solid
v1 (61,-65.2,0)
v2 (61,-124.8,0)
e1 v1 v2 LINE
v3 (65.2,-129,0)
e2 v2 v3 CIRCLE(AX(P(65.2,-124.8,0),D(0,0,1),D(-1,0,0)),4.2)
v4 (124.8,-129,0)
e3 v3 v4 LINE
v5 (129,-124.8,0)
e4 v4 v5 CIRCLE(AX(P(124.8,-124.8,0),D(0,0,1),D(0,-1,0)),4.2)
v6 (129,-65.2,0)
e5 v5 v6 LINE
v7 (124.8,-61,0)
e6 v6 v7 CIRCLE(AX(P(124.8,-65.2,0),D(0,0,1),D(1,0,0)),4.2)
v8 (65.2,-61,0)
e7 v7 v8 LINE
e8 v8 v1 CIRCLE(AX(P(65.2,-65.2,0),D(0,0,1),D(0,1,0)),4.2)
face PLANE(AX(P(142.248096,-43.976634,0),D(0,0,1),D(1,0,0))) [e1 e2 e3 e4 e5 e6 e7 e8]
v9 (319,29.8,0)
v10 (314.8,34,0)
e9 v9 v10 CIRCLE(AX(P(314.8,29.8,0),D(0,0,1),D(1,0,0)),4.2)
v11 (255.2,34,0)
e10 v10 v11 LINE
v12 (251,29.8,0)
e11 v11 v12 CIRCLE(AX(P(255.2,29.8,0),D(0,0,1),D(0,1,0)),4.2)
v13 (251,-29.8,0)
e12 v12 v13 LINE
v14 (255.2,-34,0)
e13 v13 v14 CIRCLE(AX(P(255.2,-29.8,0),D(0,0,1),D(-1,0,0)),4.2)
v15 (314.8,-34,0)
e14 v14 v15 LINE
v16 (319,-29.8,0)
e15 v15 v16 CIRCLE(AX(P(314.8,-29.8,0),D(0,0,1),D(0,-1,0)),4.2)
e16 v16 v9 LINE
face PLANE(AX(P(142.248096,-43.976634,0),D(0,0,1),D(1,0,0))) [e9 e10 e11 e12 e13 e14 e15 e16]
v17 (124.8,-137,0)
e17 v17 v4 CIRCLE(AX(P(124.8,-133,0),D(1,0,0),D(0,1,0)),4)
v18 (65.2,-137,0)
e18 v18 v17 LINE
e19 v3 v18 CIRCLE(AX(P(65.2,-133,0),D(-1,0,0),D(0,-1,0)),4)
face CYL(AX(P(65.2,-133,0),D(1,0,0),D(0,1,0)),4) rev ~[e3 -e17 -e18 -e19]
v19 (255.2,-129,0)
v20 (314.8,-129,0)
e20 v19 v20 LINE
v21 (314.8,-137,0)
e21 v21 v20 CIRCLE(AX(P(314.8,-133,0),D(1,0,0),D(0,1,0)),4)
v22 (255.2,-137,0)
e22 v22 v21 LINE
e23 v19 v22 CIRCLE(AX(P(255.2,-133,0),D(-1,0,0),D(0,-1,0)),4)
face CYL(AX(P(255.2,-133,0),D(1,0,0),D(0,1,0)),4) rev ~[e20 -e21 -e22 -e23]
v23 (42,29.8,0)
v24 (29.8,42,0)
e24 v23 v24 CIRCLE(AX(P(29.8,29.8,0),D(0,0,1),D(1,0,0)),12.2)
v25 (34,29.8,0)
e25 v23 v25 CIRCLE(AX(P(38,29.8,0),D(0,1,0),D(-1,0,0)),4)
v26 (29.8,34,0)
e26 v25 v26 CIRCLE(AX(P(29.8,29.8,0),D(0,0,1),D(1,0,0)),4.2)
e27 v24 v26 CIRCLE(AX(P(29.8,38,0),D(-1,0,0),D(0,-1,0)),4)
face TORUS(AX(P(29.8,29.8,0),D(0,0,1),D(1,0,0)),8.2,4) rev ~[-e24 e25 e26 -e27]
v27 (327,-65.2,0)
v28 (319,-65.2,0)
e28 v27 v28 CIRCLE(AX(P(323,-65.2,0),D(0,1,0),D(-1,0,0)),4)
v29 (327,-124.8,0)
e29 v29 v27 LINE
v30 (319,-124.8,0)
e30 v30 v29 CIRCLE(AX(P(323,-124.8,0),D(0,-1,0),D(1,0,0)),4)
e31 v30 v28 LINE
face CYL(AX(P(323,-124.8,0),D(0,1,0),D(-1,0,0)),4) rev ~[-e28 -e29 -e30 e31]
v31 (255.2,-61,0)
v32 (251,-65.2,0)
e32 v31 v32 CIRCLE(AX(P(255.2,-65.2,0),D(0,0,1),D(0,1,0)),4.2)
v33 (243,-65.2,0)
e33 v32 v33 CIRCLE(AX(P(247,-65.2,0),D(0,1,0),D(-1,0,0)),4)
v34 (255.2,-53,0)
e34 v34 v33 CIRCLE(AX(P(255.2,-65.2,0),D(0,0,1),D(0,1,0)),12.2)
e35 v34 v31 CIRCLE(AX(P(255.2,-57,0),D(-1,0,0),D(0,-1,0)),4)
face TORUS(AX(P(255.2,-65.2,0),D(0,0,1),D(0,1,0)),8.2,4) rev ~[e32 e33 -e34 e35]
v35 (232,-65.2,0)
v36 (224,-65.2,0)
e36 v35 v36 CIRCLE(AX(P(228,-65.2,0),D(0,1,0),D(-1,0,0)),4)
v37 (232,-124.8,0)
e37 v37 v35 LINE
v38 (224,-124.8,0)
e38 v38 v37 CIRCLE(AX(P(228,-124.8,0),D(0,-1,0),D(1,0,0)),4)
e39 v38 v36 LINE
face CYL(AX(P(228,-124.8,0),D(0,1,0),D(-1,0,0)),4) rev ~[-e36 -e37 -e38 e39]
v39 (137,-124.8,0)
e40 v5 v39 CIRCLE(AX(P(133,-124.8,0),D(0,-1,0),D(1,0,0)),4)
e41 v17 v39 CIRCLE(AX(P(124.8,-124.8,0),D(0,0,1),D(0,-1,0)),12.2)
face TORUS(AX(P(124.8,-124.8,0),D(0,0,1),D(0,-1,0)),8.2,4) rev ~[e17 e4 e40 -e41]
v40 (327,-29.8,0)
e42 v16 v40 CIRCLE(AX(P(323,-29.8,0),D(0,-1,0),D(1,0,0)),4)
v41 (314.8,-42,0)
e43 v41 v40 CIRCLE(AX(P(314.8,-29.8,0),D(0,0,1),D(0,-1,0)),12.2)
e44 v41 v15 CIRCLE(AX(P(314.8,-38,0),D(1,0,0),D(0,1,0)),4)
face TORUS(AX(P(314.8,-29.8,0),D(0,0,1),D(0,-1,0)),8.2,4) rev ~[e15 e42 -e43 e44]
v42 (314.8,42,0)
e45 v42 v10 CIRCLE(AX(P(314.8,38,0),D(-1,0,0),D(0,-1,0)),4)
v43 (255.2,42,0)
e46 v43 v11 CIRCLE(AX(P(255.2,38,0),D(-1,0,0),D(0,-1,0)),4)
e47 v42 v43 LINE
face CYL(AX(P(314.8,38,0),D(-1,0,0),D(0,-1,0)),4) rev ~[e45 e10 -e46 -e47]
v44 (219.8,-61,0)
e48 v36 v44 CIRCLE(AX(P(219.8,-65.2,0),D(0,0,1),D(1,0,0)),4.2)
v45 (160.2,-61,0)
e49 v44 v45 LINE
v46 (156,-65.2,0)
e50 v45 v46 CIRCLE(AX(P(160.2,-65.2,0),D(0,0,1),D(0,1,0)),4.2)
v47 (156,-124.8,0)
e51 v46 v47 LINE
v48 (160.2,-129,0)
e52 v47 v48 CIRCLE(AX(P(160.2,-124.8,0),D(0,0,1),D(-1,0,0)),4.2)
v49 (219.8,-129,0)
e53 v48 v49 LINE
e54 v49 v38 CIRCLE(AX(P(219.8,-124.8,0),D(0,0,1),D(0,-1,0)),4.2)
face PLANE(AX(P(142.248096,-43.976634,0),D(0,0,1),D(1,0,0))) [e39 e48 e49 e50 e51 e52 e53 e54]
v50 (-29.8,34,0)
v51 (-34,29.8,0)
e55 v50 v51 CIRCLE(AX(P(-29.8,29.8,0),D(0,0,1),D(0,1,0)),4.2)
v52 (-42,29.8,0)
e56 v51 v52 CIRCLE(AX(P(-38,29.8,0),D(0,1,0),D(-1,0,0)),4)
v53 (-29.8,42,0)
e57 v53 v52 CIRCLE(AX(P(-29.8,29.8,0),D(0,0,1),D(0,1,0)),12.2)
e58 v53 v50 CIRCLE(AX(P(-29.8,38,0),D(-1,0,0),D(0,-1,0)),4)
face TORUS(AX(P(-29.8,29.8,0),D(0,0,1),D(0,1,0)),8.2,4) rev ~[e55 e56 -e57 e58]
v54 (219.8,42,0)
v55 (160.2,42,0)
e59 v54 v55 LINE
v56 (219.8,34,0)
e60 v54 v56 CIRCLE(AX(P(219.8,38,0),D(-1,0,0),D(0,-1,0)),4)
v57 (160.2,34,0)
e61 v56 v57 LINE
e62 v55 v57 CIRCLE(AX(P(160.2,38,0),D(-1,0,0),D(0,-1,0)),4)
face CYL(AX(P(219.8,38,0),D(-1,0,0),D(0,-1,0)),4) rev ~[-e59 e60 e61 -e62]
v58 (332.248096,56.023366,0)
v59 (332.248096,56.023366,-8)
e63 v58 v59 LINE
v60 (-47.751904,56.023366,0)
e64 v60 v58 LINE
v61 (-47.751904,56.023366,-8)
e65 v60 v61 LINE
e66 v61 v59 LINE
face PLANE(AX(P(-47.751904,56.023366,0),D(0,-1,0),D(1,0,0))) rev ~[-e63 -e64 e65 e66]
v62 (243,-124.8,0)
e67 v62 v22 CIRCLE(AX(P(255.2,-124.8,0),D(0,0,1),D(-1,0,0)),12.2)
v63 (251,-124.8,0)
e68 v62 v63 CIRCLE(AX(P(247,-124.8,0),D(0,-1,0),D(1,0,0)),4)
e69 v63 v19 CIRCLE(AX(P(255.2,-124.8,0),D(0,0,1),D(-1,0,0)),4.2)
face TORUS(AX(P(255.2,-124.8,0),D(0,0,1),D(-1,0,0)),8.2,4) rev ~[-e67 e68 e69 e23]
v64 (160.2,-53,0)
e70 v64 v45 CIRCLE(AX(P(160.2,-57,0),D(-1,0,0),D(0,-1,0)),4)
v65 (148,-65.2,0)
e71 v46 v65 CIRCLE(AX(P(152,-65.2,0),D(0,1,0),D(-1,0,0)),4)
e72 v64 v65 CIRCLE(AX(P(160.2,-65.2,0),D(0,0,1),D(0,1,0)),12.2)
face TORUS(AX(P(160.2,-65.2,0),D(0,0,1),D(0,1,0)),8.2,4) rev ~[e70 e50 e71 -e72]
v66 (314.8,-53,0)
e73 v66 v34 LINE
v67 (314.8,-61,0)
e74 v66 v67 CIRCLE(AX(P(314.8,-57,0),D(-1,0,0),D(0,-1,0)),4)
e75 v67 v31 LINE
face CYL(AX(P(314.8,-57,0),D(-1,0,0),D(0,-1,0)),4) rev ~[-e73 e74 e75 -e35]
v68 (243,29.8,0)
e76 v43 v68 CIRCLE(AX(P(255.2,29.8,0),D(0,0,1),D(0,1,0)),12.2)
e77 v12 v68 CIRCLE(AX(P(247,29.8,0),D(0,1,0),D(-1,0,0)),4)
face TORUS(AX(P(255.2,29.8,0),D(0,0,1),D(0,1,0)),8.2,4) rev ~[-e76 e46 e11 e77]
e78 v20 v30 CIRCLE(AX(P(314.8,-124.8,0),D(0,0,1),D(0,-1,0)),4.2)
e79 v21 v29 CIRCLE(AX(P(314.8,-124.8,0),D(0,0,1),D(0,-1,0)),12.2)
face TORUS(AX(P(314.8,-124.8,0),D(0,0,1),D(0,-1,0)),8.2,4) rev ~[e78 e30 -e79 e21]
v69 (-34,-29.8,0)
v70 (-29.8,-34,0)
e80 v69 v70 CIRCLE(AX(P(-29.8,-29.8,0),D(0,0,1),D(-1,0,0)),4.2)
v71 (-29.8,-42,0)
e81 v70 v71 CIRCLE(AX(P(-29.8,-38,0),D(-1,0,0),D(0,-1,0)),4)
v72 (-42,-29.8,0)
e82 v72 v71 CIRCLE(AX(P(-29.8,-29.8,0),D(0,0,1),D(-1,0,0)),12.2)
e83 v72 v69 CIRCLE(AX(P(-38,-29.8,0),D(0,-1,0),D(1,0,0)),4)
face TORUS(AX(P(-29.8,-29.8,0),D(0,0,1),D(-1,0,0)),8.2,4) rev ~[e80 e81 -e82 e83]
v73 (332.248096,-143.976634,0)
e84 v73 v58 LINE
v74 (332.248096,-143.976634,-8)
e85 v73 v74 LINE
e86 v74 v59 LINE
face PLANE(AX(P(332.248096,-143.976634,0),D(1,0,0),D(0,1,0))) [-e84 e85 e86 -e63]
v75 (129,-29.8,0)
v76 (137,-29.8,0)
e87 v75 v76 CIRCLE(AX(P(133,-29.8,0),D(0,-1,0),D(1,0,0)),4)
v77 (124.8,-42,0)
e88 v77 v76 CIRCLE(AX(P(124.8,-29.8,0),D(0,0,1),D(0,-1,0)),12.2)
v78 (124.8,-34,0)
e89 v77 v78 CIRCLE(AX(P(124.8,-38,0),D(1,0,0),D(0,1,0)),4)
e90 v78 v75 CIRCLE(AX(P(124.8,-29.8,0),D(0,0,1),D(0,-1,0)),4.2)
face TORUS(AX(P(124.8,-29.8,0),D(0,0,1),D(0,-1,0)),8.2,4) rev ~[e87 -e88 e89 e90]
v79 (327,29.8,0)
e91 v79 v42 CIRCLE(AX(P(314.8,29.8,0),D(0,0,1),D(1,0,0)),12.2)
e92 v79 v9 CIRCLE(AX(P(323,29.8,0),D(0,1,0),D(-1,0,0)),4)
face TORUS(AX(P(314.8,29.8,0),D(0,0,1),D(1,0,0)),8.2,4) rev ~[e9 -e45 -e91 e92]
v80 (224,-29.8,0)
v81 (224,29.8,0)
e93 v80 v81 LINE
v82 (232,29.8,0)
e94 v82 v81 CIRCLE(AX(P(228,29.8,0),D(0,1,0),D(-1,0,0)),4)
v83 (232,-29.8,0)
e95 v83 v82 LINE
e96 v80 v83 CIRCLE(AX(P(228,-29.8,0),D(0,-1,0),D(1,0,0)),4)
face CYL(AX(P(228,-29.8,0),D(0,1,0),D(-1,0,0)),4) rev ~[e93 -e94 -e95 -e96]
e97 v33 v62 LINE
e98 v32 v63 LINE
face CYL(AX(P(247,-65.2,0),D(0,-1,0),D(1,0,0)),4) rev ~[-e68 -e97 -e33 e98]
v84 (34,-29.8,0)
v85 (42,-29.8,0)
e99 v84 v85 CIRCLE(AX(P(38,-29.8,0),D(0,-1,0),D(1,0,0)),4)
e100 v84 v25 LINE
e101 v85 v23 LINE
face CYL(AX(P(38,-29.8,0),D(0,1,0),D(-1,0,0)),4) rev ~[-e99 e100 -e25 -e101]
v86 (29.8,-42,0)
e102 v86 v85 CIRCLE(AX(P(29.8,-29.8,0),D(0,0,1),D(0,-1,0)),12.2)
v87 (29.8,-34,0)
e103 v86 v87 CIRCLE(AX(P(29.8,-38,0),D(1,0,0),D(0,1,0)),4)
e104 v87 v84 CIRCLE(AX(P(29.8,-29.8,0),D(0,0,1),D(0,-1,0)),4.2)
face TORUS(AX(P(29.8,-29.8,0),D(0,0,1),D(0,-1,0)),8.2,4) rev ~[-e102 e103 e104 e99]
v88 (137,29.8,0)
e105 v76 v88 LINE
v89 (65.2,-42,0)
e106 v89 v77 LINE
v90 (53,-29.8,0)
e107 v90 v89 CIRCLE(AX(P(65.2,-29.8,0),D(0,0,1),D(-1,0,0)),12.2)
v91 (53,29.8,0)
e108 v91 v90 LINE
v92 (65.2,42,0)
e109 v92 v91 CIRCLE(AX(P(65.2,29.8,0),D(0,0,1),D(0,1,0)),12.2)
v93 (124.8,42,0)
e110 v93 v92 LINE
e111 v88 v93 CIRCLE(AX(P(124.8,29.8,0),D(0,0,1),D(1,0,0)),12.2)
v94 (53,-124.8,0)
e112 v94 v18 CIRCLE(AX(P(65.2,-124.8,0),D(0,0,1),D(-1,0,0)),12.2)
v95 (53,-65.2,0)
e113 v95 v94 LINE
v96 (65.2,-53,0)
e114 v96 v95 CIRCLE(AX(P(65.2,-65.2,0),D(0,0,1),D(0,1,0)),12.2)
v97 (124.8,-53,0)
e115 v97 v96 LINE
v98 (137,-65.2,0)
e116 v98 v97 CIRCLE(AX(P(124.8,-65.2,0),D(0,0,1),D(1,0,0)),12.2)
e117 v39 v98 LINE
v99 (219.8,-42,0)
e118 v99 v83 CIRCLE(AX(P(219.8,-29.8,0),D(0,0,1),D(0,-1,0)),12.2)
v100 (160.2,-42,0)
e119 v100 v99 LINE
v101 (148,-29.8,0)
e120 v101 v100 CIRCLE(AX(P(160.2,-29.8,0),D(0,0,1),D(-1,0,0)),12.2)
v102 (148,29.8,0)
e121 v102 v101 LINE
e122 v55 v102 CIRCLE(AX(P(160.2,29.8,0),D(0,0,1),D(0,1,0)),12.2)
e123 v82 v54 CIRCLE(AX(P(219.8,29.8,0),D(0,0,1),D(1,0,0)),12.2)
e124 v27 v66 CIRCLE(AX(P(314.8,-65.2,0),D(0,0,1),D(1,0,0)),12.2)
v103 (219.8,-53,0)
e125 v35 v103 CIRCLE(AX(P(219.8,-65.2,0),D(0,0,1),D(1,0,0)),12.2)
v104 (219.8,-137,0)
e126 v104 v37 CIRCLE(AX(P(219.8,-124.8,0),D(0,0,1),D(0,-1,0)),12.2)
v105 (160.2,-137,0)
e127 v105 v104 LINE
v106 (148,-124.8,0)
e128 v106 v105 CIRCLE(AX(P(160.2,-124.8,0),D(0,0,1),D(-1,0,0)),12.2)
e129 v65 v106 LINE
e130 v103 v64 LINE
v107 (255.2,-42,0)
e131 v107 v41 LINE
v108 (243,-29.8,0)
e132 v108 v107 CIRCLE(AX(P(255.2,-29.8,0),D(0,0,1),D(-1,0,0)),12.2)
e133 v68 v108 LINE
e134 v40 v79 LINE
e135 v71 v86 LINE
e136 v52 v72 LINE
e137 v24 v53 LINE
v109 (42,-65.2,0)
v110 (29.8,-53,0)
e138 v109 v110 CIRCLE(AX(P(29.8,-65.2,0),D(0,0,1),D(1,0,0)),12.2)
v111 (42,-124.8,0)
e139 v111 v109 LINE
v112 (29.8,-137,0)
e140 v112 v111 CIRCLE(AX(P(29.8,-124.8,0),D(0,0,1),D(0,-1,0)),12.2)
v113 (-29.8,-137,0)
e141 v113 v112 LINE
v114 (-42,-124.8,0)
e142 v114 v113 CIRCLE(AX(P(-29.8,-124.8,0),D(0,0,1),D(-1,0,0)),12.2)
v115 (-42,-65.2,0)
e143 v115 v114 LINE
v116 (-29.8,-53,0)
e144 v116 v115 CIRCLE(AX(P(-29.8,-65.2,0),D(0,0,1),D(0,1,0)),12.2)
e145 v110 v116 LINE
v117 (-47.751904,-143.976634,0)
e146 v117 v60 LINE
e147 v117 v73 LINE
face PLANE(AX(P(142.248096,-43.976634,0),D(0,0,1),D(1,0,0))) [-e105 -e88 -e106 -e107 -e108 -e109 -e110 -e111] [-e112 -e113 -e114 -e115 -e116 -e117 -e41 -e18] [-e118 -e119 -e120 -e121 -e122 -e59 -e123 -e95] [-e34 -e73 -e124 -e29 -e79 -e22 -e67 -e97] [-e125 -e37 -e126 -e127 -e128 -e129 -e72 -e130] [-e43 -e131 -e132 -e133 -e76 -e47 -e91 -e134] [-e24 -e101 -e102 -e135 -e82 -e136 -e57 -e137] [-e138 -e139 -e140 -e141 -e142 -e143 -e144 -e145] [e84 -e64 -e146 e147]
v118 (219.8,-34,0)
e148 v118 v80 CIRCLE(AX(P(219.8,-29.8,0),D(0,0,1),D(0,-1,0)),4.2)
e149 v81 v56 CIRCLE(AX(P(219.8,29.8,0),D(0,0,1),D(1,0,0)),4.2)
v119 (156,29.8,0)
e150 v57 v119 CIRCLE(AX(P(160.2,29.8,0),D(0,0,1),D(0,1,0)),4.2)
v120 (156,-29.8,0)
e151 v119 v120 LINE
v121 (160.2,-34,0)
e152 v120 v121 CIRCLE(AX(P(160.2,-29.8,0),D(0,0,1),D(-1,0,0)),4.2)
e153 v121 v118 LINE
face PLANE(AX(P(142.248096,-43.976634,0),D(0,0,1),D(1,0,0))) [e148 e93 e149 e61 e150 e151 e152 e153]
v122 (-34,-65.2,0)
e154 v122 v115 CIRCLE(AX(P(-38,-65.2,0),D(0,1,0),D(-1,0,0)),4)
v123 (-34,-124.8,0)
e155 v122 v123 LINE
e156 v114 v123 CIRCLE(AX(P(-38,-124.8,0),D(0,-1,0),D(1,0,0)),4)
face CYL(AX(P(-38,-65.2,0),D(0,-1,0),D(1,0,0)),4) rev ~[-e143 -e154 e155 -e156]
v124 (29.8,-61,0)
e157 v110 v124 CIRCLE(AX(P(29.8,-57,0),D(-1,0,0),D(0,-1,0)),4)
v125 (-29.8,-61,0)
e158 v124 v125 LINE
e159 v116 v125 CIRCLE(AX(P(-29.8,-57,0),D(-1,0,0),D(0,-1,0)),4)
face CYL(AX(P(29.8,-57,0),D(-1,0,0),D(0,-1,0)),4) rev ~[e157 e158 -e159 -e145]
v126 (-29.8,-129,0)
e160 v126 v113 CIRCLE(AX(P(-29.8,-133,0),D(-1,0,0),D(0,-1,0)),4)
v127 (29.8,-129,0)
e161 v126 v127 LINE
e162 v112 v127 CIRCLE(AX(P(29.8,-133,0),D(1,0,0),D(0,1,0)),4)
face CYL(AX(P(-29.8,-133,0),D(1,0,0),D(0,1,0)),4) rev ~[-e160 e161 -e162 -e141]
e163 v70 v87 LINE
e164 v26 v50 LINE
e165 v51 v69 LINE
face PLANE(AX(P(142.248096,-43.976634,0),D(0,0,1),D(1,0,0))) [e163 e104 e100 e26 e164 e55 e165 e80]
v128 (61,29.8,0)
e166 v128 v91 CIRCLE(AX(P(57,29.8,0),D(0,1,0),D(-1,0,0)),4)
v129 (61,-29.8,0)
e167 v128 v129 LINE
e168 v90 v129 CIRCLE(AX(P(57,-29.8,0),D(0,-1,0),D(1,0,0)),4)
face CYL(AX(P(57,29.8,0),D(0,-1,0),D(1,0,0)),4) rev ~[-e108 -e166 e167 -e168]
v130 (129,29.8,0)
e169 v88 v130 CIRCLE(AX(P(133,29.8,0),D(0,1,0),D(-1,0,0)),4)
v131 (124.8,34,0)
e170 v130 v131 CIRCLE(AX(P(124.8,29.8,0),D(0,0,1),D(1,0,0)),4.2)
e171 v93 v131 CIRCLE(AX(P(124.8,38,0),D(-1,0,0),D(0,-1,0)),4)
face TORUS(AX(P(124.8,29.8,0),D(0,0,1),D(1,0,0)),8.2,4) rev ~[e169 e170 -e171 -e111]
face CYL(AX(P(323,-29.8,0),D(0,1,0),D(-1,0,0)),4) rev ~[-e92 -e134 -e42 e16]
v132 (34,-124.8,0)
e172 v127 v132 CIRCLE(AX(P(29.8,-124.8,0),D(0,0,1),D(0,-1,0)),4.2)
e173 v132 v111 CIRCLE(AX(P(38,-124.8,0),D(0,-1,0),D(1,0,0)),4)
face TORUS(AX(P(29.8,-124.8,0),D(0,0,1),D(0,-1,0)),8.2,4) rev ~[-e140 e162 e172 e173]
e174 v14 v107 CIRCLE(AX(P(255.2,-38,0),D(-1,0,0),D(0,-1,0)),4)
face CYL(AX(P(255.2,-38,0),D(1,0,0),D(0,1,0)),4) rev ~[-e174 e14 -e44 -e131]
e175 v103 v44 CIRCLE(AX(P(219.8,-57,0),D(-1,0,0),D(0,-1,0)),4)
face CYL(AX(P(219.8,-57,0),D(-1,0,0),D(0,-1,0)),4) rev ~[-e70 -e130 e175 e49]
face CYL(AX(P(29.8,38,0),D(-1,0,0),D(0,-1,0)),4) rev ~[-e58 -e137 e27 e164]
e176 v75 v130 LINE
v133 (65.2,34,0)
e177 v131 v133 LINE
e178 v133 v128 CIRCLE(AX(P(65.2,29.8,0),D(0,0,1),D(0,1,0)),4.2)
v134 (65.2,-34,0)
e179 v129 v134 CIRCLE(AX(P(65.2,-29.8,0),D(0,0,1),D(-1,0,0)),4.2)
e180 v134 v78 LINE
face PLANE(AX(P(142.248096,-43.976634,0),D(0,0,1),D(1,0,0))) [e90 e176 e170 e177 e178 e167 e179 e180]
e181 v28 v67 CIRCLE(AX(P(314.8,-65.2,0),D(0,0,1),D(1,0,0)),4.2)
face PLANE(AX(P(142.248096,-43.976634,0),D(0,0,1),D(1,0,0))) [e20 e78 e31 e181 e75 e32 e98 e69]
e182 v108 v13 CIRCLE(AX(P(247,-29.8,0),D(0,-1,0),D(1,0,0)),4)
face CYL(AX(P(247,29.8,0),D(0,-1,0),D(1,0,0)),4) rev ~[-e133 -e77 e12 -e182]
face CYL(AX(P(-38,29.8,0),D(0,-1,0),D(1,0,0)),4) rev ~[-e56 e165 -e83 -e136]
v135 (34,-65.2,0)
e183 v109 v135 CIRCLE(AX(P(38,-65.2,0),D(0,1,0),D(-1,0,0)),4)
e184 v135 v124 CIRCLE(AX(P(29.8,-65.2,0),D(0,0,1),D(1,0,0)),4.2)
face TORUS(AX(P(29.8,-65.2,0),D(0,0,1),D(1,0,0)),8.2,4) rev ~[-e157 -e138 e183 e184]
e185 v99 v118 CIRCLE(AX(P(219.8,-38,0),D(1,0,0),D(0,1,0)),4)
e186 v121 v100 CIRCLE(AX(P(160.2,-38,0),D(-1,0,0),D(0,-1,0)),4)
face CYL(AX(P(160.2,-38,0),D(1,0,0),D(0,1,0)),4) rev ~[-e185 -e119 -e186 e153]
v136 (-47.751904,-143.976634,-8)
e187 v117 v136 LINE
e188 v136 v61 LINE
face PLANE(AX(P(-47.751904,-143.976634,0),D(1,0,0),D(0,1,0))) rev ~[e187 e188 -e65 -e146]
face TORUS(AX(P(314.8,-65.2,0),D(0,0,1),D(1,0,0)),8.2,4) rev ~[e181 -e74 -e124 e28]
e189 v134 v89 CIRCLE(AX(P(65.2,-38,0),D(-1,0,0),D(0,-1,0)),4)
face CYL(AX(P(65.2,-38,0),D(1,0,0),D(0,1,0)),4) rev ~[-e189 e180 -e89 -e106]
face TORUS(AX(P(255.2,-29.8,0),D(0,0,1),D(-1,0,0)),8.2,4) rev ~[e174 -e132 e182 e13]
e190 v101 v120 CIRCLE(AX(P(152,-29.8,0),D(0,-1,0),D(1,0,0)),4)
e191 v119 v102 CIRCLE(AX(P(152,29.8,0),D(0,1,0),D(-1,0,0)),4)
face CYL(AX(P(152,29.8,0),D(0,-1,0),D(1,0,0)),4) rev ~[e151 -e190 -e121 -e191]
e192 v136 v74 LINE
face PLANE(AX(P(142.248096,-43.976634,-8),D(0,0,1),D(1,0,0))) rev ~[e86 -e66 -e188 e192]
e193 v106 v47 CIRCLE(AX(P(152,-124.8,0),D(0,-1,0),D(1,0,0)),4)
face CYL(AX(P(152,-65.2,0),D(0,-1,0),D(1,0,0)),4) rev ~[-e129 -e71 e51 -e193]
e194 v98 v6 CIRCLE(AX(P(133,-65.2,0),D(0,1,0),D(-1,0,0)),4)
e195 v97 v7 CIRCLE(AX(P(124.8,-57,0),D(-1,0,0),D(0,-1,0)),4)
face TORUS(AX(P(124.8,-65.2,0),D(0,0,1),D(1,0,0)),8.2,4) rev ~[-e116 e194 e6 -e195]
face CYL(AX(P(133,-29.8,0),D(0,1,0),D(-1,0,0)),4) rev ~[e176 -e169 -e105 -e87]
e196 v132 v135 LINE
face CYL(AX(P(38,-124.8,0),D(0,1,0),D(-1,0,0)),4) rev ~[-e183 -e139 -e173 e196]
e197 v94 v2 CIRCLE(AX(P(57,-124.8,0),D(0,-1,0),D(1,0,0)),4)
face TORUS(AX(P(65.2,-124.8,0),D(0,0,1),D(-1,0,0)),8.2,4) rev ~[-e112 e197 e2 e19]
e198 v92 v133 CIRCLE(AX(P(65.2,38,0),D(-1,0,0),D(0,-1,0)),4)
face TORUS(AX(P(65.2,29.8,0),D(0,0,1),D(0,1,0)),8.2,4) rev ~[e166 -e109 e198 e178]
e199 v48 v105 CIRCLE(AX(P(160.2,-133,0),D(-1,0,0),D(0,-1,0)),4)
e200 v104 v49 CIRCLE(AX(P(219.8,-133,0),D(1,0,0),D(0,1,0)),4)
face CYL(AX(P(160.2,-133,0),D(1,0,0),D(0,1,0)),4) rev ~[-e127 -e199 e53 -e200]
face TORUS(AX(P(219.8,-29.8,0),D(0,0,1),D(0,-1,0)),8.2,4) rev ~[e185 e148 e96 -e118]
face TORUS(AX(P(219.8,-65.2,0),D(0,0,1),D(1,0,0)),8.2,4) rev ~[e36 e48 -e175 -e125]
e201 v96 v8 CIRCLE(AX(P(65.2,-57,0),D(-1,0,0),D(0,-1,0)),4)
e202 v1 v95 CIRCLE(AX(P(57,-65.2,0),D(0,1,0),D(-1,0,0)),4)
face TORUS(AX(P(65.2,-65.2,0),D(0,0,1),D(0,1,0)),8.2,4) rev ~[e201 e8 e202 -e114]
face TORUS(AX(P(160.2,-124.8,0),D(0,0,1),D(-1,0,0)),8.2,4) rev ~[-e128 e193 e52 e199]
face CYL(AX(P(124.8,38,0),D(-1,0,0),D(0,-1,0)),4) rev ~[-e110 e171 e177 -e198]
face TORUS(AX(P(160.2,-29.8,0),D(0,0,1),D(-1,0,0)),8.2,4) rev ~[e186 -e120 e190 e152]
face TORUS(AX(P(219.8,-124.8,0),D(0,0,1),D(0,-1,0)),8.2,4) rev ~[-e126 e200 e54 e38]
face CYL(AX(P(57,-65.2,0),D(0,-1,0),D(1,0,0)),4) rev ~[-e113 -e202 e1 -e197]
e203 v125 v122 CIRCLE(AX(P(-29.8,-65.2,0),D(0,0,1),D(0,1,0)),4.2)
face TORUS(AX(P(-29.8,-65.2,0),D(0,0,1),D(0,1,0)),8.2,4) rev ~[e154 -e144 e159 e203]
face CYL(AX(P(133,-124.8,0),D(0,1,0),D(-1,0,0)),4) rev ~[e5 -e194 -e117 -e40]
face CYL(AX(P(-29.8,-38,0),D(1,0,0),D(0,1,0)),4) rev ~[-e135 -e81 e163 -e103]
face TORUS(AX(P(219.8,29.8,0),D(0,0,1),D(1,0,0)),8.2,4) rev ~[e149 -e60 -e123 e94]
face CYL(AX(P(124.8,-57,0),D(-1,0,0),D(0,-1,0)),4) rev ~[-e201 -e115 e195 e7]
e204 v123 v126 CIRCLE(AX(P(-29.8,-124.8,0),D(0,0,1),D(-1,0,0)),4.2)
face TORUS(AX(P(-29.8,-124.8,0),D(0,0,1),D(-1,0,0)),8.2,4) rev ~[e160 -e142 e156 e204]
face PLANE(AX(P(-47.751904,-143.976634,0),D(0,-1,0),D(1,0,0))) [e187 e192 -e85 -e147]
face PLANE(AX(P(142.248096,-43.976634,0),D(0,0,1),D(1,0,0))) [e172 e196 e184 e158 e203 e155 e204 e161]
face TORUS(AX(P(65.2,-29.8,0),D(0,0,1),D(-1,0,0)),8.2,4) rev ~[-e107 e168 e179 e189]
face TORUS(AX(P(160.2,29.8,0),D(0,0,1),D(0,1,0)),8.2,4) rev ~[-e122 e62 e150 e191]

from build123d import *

# Parameters (mm, degrees)
SKETCH3_W            = 380
SKETCH3_H            = 200
BOSS_EXTRUDE1_DEPTH  = 8
SKETCH6_R            = 4
LPATTERN1_COUNT      = 4
LPATTERN1_PITCH      = 95
LPATTERN1_COUNT_DIR2 = 2
LPATTERN1_PITCH_DIR2 = 95


with BuildPart() as part:
    # Sketch3 → Boss-Extrude1 (new body)
    with BuildSketch(Plane.XY):
        with Locations((142.248096053, -43.976633958)):
            Rectangle(SKETCH3_W, SKETCH3_H)
    extrude(amount=-BOSS_EXTRUDE1_DEPTH)

    # Cut-Sweep11: sweep along a path in Sketch1
    with BuildLine(Plane.XY) as cut_sweep11_path:
        Line((29.8, 38), (-29.8, 38))
        ThreePointArc((-29.8, 38), (-35.598275606, 35.598275606), (-38, 29.8))
        Line((-38, 29.8), (-38, -29.8))
        ThreePointArc((-38, -29.8), (-35.598275606, -35.598275606), (-29.8, -38))
        Line((-29.8, -38), (29.8, -38))
        ThreePointArc((29.8, -38), (35.598275606, -35.598275606), (38, -29.8))
        Line((38, -29.8), (38, 29.8))
        ThreePointArc((38, 29.8), (35.598275606, 35.598275606), (29.8, 38))
    # Sketch6 → Cut-Sweep11 (sweep, cut)
    with BuildSketch(Plane(origin=(0, 0, 0), x_dir=(1, 0, 0), z_dir=(0, 1, 0))):
        with Locations((-38, 0)):
            Circle(SKETCH6_R)
    cut_sweep11 = sweep(path=cut_sweep11_path.line, mode=Mode.SUBTRACT)

    # LPattern1: Cut-Sweep11 4 × 2
    with Locations(*[(i * LPATTERN1_PITCH, -j * LPATTERN1_PITCH_DIR2, 0) for i in range(LPATTERN1_COUNT) for j in range(LPATTERN1_COUNT_DIR2) if (i, j) != (0, 0)]):
        add(cut_sweep11, mode=Mode.SUBTRACT)


solid = part.part
